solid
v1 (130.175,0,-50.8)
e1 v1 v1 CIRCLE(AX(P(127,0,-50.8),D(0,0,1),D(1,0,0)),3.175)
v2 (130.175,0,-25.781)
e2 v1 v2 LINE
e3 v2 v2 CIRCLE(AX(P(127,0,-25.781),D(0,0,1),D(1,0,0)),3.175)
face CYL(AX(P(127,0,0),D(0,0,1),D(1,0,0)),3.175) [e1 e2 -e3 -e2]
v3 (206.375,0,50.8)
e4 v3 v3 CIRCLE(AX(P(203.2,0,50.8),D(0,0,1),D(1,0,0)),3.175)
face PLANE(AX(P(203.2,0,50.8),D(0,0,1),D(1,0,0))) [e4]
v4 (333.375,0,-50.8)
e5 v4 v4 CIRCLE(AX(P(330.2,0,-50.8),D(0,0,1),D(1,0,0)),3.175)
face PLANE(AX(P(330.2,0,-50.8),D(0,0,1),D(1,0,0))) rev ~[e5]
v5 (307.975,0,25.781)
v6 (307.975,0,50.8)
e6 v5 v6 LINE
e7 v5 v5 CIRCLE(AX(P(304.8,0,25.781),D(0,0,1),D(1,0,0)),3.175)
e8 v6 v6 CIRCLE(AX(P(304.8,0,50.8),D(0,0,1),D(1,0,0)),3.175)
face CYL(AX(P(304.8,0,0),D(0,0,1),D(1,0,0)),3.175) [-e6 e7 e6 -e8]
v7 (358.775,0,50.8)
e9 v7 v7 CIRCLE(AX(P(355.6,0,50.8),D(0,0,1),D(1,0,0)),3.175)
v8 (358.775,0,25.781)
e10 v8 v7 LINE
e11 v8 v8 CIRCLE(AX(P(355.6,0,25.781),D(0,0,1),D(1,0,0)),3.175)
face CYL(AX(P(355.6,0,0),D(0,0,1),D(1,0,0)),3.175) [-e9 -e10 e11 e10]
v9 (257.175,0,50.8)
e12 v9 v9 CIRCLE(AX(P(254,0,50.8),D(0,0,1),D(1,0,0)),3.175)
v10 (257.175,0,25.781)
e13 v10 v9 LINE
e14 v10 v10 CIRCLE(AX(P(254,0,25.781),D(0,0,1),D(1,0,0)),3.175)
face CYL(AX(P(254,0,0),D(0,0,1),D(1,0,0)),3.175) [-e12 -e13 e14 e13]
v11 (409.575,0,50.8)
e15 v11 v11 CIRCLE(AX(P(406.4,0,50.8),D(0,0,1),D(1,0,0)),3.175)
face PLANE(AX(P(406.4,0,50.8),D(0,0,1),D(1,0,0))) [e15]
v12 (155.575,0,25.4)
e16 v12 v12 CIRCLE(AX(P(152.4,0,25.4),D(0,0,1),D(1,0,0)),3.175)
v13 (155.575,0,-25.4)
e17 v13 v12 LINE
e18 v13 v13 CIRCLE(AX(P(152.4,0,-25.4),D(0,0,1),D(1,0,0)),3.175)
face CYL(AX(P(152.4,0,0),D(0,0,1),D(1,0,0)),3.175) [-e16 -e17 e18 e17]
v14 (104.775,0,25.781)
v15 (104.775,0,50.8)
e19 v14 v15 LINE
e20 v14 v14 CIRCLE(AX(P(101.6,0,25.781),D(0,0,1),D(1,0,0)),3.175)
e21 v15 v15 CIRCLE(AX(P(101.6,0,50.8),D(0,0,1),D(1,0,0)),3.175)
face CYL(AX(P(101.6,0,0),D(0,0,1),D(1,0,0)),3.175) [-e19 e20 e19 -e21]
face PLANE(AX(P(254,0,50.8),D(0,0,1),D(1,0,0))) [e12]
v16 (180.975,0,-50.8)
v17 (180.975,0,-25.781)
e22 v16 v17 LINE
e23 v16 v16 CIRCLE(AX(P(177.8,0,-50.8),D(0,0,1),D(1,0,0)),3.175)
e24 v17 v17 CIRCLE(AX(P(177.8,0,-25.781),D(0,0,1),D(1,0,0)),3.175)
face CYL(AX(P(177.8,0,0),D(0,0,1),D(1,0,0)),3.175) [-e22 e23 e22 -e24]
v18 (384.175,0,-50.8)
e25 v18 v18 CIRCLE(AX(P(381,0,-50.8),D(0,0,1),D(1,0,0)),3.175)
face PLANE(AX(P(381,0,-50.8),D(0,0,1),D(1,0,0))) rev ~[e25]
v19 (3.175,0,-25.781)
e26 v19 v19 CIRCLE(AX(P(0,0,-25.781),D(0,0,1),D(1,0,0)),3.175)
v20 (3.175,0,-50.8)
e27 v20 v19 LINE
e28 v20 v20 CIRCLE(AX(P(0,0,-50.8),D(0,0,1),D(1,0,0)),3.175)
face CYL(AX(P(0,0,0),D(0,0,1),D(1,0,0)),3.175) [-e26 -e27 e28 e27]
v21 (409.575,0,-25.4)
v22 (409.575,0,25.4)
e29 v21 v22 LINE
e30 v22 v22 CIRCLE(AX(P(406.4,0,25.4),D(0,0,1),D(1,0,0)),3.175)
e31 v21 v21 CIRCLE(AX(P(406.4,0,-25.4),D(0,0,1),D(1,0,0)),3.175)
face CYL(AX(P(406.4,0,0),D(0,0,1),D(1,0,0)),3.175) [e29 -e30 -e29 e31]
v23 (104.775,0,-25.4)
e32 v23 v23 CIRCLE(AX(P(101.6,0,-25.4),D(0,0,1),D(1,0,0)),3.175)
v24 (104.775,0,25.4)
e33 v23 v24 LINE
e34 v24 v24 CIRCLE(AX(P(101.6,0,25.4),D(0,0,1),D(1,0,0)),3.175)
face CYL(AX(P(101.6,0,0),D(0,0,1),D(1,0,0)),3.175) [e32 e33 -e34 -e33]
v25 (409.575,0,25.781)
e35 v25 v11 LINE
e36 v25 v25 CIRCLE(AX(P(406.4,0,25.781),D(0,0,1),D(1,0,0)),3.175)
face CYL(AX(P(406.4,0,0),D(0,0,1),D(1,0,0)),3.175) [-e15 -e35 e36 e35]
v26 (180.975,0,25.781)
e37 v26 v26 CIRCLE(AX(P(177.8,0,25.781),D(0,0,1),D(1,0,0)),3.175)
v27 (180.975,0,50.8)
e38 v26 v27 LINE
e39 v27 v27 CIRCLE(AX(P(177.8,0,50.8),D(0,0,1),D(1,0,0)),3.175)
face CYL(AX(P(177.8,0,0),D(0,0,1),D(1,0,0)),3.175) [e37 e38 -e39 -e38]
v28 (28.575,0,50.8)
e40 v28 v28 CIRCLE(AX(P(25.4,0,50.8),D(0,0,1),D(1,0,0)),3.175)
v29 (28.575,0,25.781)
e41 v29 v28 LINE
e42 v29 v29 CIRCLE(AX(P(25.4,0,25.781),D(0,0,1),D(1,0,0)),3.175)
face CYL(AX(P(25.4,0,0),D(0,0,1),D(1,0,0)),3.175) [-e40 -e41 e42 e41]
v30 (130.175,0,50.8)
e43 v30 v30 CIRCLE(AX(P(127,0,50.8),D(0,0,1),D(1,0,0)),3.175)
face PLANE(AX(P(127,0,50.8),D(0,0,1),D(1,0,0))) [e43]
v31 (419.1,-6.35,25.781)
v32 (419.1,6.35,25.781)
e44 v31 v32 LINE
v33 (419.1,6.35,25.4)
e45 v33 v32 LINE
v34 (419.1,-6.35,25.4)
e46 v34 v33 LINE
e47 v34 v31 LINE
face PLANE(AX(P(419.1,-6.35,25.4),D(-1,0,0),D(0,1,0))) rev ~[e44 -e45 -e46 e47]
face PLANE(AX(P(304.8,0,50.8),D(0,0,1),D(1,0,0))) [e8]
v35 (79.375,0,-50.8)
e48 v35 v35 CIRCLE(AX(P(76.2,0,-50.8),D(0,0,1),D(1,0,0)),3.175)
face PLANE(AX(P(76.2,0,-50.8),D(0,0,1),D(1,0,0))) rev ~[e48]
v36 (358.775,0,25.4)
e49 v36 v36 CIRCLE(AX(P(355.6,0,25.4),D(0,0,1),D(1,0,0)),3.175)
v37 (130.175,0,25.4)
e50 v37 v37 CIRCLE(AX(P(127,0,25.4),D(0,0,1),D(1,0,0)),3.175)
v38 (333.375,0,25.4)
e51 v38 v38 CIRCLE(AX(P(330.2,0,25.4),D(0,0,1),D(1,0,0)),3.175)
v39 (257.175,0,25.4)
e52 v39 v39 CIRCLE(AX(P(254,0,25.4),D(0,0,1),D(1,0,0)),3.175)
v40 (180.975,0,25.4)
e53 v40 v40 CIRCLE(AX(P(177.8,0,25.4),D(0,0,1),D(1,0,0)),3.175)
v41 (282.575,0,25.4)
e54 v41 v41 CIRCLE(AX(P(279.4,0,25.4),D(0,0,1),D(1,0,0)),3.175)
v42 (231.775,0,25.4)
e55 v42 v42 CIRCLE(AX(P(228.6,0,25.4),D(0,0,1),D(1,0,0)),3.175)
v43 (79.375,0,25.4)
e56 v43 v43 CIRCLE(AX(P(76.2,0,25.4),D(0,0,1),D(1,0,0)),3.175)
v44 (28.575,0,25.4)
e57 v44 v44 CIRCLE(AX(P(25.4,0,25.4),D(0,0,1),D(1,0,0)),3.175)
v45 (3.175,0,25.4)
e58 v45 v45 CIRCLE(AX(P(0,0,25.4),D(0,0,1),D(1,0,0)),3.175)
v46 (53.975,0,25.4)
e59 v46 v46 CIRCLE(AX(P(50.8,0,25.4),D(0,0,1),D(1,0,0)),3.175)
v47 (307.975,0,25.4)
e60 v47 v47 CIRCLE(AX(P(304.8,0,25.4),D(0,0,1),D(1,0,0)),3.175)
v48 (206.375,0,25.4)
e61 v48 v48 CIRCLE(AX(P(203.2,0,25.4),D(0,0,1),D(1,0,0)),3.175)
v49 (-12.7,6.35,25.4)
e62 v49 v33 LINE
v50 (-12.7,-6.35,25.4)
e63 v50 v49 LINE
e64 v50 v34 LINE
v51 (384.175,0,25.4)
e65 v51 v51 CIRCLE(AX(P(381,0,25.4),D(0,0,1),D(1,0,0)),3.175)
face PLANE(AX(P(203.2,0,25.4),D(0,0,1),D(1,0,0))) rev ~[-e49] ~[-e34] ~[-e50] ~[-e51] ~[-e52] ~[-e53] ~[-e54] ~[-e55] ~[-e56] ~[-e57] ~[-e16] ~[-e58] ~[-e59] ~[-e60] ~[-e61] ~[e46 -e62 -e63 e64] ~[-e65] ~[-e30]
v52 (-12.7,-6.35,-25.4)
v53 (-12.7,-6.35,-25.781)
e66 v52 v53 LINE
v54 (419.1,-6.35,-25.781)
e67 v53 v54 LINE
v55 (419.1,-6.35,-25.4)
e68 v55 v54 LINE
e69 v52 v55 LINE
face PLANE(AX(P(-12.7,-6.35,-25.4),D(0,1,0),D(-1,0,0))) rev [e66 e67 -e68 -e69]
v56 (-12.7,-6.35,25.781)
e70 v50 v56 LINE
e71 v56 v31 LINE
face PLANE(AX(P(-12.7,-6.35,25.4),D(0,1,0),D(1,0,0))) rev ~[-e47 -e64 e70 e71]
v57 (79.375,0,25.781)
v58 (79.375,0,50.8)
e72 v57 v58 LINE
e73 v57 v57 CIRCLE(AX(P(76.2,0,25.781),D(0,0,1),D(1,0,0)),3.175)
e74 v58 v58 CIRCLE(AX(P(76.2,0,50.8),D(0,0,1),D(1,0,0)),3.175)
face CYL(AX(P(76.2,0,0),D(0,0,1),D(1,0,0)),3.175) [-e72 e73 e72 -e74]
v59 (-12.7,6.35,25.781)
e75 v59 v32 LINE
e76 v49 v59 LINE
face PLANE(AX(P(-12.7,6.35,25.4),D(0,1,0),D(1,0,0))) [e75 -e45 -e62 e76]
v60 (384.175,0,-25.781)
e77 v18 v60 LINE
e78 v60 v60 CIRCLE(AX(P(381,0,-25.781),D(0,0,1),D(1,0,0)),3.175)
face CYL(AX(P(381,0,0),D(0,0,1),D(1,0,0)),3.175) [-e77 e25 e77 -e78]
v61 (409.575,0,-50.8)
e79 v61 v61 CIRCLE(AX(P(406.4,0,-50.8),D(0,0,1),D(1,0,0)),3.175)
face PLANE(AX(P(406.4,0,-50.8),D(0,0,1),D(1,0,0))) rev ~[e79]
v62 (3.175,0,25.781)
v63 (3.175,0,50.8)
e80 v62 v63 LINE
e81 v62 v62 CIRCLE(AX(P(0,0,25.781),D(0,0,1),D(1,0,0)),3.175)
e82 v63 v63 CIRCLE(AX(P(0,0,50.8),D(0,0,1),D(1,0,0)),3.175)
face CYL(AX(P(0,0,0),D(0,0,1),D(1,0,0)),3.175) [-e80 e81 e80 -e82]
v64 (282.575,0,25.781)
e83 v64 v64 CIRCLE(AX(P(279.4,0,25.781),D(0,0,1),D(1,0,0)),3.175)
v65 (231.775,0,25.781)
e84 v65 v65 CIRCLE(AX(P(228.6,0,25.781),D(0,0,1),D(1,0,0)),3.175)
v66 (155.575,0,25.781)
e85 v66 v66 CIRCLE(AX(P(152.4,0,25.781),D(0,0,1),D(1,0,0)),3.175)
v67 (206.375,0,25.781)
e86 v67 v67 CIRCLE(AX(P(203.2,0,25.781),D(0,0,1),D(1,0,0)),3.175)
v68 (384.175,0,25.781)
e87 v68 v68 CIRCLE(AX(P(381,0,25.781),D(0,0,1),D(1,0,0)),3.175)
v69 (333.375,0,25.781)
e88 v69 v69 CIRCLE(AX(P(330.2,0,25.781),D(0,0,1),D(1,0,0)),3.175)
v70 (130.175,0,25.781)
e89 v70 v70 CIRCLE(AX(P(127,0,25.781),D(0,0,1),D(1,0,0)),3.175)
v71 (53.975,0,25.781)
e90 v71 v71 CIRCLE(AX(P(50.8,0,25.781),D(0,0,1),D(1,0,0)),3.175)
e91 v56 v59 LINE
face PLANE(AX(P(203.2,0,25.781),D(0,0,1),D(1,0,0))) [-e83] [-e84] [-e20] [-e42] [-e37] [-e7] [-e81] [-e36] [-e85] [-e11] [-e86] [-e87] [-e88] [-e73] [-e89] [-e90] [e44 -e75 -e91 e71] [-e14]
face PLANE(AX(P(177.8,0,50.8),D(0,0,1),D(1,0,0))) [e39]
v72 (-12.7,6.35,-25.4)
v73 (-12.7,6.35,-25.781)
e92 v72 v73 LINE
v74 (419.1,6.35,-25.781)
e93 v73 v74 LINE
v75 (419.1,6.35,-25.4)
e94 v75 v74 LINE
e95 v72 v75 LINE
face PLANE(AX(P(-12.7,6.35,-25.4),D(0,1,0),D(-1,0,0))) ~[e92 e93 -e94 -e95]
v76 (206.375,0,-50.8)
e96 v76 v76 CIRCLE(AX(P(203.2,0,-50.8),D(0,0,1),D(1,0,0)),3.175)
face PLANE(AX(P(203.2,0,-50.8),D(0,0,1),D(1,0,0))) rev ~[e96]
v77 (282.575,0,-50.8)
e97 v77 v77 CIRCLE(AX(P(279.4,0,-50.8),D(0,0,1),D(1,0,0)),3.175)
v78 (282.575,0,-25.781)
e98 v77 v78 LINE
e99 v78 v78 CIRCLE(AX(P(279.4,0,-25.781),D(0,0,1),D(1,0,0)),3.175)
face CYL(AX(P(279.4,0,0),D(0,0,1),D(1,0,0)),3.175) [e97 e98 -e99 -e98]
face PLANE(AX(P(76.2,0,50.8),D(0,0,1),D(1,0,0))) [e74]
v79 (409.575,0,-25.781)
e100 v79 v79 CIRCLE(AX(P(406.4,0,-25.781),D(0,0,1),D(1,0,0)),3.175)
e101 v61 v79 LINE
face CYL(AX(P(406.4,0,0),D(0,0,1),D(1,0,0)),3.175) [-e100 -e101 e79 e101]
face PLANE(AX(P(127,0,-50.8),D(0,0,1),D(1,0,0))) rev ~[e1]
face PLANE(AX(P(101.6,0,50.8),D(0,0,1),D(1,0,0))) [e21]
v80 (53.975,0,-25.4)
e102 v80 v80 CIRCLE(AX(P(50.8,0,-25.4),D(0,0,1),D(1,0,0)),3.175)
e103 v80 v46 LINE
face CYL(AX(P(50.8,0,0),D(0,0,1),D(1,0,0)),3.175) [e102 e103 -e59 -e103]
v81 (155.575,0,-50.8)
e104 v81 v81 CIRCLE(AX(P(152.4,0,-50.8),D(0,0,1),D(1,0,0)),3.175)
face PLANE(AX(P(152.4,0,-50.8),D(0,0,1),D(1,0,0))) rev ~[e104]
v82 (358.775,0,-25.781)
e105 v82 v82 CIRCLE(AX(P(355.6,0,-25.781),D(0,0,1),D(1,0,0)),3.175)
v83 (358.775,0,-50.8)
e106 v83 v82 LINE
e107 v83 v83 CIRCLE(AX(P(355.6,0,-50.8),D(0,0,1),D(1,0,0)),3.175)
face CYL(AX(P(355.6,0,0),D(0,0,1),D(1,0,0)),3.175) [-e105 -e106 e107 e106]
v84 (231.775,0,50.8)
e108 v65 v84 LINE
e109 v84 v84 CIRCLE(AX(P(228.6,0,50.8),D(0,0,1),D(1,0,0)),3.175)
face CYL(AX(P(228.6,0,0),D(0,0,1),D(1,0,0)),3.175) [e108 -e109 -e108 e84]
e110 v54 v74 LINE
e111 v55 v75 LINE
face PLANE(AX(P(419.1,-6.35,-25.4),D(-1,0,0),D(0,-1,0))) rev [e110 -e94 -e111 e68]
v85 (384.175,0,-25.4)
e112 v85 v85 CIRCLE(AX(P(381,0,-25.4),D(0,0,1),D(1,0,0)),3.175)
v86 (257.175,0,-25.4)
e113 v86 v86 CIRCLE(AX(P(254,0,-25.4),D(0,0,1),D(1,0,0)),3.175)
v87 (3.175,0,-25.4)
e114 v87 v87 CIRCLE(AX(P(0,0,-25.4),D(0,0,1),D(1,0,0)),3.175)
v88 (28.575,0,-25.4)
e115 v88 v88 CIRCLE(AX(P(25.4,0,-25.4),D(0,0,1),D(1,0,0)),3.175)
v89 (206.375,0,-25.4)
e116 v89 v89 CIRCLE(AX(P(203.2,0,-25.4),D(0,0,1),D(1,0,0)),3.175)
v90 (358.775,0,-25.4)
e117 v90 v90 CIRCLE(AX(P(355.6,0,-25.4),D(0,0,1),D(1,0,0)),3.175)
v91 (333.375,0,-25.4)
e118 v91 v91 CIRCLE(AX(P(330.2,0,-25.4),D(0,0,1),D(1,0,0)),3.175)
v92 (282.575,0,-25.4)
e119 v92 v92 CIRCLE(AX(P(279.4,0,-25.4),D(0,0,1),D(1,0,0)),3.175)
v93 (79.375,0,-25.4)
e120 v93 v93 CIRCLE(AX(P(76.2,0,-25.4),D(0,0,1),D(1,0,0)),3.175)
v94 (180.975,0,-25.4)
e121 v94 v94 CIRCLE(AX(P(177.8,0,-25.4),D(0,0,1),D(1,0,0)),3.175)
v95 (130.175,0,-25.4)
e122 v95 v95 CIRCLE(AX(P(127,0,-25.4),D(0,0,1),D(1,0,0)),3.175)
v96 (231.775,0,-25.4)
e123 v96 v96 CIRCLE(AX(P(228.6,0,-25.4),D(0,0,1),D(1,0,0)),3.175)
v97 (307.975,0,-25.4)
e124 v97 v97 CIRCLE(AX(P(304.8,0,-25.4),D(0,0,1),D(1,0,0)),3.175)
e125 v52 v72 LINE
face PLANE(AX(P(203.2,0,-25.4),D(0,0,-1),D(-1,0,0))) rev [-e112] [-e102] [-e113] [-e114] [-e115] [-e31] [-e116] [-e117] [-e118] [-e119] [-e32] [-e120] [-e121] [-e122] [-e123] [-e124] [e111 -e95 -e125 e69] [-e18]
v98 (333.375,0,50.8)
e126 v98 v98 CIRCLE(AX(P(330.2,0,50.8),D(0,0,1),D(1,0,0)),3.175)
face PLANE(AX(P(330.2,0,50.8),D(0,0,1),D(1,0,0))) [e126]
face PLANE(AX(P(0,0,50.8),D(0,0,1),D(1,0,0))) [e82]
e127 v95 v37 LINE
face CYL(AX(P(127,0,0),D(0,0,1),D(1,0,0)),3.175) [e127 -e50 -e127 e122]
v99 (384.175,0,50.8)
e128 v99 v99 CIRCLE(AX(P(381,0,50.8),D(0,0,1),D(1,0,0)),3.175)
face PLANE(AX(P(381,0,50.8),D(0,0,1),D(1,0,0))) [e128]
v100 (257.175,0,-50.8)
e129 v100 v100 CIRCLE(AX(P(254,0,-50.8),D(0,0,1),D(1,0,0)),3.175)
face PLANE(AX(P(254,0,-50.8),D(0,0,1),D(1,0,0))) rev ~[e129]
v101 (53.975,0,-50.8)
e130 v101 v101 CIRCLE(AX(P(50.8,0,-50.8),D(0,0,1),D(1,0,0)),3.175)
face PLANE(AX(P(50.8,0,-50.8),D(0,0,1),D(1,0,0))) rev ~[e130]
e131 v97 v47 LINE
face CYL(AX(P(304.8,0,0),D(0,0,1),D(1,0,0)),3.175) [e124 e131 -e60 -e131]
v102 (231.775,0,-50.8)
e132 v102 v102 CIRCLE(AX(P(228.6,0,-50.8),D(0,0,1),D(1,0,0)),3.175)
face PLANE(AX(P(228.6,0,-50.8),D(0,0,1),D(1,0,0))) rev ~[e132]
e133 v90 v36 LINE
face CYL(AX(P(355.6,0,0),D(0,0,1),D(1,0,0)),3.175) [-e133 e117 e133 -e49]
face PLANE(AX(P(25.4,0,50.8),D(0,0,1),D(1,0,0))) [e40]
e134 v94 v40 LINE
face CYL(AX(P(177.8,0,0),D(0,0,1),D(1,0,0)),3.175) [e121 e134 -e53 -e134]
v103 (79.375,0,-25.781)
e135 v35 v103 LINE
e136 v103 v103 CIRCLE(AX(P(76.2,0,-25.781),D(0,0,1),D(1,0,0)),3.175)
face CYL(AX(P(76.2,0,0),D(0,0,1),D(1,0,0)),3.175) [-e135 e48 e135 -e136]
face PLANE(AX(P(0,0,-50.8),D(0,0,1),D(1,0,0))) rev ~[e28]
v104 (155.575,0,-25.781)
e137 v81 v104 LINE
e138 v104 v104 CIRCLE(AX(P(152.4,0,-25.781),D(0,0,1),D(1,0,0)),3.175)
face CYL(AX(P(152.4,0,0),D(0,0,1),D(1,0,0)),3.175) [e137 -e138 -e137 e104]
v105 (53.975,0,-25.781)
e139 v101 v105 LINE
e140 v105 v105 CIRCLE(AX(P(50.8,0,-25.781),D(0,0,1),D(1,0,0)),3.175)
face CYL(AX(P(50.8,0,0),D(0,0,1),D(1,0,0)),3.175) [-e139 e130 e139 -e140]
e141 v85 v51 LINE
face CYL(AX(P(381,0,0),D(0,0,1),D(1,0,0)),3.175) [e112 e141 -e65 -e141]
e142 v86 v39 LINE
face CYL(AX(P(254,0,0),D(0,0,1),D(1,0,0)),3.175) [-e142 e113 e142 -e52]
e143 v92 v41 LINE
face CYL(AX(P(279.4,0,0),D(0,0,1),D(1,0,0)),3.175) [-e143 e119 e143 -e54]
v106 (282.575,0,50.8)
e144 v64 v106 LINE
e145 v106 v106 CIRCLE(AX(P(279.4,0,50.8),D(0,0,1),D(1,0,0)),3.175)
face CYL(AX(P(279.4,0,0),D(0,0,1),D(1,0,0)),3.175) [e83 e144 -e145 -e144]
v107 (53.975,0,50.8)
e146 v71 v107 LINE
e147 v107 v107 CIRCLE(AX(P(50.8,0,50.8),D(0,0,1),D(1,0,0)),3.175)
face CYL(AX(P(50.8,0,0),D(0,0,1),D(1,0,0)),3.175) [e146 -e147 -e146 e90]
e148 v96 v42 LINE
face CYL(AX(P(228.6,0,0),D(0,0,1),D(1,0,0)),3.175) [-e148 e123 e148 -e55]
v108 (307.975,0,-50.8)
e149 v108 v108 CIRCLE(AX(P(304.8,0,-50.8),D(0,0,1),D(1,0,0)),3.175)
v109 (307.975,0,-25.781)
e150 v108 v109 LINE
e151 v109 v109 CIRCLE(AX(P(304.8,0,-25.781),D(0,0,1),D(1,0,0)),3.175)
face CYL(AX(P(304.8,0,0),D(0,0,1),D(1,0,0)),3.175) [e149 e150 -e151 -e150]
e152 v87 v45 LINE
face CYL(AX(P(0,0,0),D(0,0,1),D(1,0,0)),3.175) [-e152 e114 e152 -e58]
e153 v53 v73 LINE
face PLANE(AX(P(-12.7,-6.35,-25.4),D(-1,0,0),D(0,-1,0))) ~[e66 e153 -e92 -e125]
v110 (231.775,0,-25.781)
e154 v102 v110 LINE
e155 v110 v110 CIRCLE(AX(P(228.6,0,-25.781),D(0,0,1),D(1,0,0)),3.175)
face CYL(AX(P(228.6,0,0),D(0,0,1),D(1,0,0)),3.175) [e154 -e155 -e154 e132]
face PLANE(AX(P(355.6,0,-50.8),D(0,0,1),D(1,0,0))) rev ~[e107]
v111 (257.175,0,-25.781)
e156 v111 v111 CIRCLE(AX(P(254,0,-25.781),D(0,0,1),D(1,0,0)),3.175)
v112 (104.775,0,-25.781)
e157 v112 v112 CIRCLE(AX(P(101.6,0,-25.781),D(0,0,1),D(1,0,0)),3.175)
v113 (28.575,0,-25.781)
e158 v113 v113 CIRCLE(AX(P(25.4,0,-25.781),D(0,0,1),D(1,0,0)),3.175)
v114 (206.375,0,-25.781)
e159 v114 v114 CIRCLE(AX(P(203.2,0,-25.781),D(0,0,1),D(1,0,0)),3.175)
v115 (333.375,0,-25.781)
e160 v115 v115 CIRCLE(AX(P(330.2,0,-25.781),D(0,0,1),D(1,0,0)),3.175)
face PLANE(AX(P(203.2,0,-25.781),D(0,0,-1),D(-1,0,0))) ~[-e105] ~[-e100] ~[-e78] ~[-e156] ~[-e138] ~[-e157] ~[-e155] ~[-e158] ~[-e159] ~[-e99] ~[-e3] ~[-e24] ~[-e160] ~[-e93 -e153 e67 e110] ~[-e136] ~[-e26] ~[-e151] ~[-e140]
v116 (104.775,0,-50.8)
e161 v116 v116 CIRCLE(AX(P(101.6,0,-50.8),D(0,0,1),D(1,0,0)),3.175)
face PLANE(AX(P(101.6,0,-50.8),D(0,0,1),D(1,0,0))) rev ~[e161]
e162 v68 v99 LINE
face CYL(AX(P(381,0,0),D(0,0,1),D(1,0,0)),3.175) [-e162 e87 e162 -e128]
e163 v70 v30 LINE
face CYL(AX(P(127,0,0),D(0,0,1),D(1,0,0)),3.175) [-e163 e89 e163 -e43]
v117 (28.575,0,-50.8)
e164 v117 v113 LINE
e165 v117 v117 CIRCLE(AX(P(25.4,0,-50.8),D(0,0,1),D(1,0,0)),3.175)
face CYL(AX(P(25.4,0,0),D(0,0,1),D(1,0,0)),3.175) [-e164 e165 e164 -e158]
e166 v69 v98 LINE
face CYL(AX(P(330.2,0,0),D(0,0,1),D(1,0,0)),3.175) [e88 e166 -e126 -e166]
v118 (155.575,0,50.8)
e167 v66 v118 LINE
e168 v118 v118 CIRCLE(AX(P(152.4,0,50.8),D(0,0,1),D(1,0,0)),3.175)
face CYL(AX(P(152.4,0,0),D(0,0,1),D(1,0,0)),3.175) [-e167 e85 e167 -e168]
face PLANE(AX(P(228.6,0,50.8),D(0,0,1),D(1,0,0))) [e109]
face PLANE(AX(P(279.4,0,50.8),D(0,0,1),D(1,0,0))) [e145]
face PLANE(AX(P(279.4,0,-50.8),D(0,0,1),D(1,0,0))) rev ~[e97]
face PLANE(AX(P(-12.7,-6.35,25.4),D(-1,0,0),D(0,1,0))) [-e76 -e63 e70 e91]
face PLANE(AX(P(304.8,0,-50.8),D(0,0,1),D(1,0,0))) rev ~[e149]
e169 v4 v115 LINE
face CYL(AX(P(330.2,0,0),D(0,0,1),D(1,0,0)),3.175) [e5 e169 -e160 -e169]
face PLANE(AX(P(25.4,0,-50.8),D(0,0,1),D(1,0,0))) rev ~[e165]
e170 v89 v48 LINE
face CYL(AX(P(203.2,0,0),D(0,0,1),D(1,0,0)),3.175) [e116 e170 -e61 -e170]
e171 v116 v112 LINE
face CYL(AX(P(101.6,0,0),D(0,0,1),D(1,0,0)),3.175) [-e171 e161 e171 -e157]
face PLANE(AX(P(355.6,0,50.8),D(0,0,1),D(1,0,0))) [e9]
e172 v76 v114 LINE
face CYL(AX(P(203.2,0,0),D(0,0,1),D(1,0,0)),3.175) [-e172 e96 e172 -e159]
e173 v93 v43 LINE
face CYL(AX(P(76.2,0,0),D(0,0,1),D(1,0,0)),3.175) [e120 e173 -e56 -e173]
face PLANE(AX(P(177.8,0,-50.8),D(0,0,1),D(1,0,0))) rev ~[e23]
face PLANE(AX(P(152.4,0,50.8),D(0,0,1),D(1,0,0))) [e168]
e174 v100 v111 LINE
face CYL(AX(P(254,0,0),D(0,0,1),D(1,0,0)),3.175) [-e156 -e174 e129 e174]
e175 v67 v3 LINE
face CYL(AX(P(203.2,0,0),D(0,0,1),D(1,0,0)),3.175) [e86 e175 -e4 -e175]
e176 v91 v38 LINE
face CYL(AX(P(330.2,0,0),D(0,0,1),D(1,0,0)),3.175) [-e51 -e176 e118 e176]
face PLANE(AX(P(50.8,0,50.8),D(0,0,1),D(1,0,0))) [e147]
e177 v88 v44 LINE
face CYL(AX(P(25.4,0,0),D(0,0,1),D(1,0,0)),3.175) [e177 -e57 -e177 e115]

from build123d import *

# Parameters (mm, degrees)
SKETCH1_R              = 3.175
BOSS_EXTRUDE1_DEPTH    = 50.8
BOSS_EXTRUDE1_2_DEPTH  = 50.8
BOSS_EXTRUDE1_3_DEPTH  = 50.8
BOSS_EXTRUDE1_4_DEPTH  = 50.8
BOSS_EXTRUDE1_5_DEPTH  = 50.8
BOSS_EXTRUDE1_6_DEPTH  = 50.8
BOSS_EXTRUDE1_7_DEPTH  = 50.8
BOSS_EXTRUDE1_8_DEPTH  = 50.8
BOSS_EXTRUDE1_9_DEPTH  = 50.8
BOSS_EXTRUDE1_10_DEPTH = 50.8
BOSS_EXTRUDE1_11_DEPTH = 50.8
BOSS_EXTRUDE1_12_DEPTH = 50.8
BOSS_EXTRUDE1_13_DEPTH = 50.8
BOSS_EXTRUDE1_14_DEPTH = 50.8
BOSS_EXTRUDE1_15_DEPTH = 50.8
BOSS_EXTRUDE1_16_DEPTH = 50.8
BOSS_EXTRUDE1_17_DEPTH = 50.8
SKETCH2_W              = 431.8
SKETCH2_H              = 12.7
BOSS_EXTRUDE2_DEPTH    = 0.381


with BuildPart() as part:
    # Sketch1 → Boss-Extrude1 (new body, symmetric)
    with BuildSketch(Plane.XY):
        Circle(SKETCH1_R)
    extrude(amount=BOSS_EXTRUDE1_DEPTH, both=True)



with BuildPart() as body_2:
    # Sketch1 → Boss-Extrude1 2 (new body, symmetric)
    with BuildSketch(Plane.XY):
        with Locations((25.4, 0)):
            Circle(SKETCH1_R)
    extrude(amount=BOSS_EXTRUDE1_2_DEPTH, both=True)


with BuildPart() as body_3:
    # Sketch1 → Boss-Extrude1 3 (new body, symmetric)
    with BuildSketch(Plane.XY):
        with Locations((50.8, 0)):
            Circle(SKETCH1_R)
    extrude(amount=BOSS_EXTRUDE1_3_DEPTH, both=True)


with BuildPart() as body_4:
    # Sketch1 → Boss-Extrude1 4 (new body, symmetric)
    with BuildSketch(Plane.XY):
        with Locations((76.2, 0)):
            Circle(SKETCH1_R)
    extrude(amount=BOSS_EXTRUDE1_4_DEPTH, both=True)


with BuildPart() as body_5:
    # Sketch1 → Boss-Extrude1 5 (new body, symmetric)
    with BuildSketch(Plane.XY):
        with Locations((101.6, 0)):
            Circle(SKETCH1_R)
    extrude(amount=BOSS_EXTRUDE1_5_DEPTH, both=True)


with BuildPart() as body_6:
    # Sketch1 → Boss-Extrude1 6 (new body, symmetric)
    with BuildSketch(Plane.XY):
        with Locations((127, 0)):
            Circle(SKETCH1_R)
    extrude(amount=BOSS_EXTRUDE1_6_DEPTH, both=True)


with BuildPart() as body_7:
    # Sketch1 → Boss-Extrude1 7 (new body, symmetric)
    with BuildSketch(Plane.XY):
        with Locations((152.4, 0)):
            Circle(SKETCH1_R)
    extrude(amount=BOSS_EXTRUDE1_7_DEPTH, both=True)


with BuildPart() as body_8:
    # Sketch1 → Boss-Extrude1 8 (new body, symmetric)
    with BuildSketch(Plane.XY):
        with Locations((177.8, 0)):
            Circle(SKETCH1_R)
    extrude(amount=BOSS_EXTRUDE1_8_DEPTH, both=True)


with BuildPart() as body_9:
    # Sketch1 → Boss-Extrude1 9 (new body, symmetric)
    with BuildSketch(Plane.XY):
        with Locations((203.2, 0)):
            Circle(SKETCH1_R)
    extrude(amount=BOSS_EXTRUDE1_9_DEPTH, both=True)


with BuildPart() as body_10:
    # Sketch1 → Boss-Extrude1 10 (new body, symmetric)
    with BuildSketch(Plane.XY):
        with Locations((228.6, 0)):
            Circle(SKETCH1_R)
    extrude(amount=BOSS_EXTRUDE1_10_DEPTH, both=True)


with BuildPart() as body_11:
    # Sketch1 → Boss-Extrude1 11 (new body, symmetric)
    with BuildSketch(Plane.XY):
        with Locations((254, 0)):
            Circle(SKETCH1_R)
    extrude(amount=BOSS_EXTRUDE1_11_DEPTH, both=True)


with BuildPart() as body_12:
    # Sketch1 → Boss-Extrude1 12 (new body, symmetric)
    with BuildSketch(Plane.XY):
        with Locations((279.4, 0)):
            Circle(SKETCH1_R)
    extrude(amount=BOSS_EXTRUDE1_12_DEPTH, both=True)


with BuildPart() as body_13:
    # Sketch1 → Boss-Extrude1 13 (new body, symmetric)
    with BuildSketch(Plane.XY):
        with Locations((304.8, 0)):
            Circle(SKETCH1_R)
    extrude(amount=BOSS_EXTRUDE1_13_DEPTH, both=True)


with BuildPart() as body_14:
    # Sketch1 → Boss-Extrude1 14 (new body, symmetric)
    with BuildSketch(Plane.XY):
        with Locations((330.2, 0)):
            Circle(SKETCH1_R)
    extrude(amount=BOSS_EXTRUDE1_14_DEPTH, both=True)


with BuildPart() as body_15:
    # Sketch1 → Boss-Extrude1 15 (new body, symmetric)
    with BuildSketch(Plane.XY):
        with Locations((355.6, 0)):
            Circle(SKETCH1_R)
    extrude(amount=BOSS_EXTRUDE1_15_DEPTH, both=True)


with BuildPart() as body_16:
    # Sketch1 → Boss-Extrude1 16 (new body, symmetric)
    with BuildSketch(Plane.XY):
        with Locations((381, 0)):
            Circle(SKETCH1_R)
    extrude(amount=BOSS_EXTRUDE1_16_DEPTH, both=True)


with BuildPart() as body_17:
    # Sketch1 → Boss-Extrude1 17 (new body, symmetric)
    with BuildSketch(Plane.XY):
        with Locations((406.4, 0)):
            Circle(SKETCH1_R)
    extrude(amount=BOSS_EXTRUDE1_17_DEPTH, both=True)


with BuildPart() as part_1:
    add(part.part)

    add(body_2.part)  # Boss-Extrude2 merges body 2

    add(body_3.part)  # Boss-Extrude2 merges body 3

    add(body_4.part)  # Boss-Extrude2 merges body 4

    add(body_5.part)  # Boss-Extrude2 merges body 5

    add(body_6.part)  # Boss-Extrude2 merges body 6

    add(body_7.part)  # Boss-Extrude2 merges body 7

    add(body_8.part)  # Boss-Extrude2 merges body 8

    add(body_9.part)  # Boss-Extrude2 merges body 9

    add(body_10.part)  # Boss-Extrude2 merges body 10

    add(body_11.part)  # Boss-Extrude2 merges body 11

    add(body_12.part)  # Boss-Extrude2 merges body 12

    add(body_13.part)  # Boss-Extrude2 merges body 13

    add(body_14.part)  # Boss-Extrude2 merges body 14

    add(body_15.part)  # Boss-Extrude2 merges body 15

    add(body_16.part)  # Boss-Extrude2 merges body 16

    add(body_17.part)  # Boss-Extrude2 merges body 17
    # Sketch2 → Boss-Extrude2 (add)
    with BuildSketch(Plane.XY.offset(25.4)):
        with Locations((203.2, 0)):
            Rectangle(SKETCH2_W, SKETCH2_H)
    boss_extrude2 = extrude(amount=BOSS_EXTRUDE2_DEPTH)

    # Mirror1: Boss-Extrude2 across plane
    add(boss_extrude2.mirror(Plane.XY))


solid = part_1.part
